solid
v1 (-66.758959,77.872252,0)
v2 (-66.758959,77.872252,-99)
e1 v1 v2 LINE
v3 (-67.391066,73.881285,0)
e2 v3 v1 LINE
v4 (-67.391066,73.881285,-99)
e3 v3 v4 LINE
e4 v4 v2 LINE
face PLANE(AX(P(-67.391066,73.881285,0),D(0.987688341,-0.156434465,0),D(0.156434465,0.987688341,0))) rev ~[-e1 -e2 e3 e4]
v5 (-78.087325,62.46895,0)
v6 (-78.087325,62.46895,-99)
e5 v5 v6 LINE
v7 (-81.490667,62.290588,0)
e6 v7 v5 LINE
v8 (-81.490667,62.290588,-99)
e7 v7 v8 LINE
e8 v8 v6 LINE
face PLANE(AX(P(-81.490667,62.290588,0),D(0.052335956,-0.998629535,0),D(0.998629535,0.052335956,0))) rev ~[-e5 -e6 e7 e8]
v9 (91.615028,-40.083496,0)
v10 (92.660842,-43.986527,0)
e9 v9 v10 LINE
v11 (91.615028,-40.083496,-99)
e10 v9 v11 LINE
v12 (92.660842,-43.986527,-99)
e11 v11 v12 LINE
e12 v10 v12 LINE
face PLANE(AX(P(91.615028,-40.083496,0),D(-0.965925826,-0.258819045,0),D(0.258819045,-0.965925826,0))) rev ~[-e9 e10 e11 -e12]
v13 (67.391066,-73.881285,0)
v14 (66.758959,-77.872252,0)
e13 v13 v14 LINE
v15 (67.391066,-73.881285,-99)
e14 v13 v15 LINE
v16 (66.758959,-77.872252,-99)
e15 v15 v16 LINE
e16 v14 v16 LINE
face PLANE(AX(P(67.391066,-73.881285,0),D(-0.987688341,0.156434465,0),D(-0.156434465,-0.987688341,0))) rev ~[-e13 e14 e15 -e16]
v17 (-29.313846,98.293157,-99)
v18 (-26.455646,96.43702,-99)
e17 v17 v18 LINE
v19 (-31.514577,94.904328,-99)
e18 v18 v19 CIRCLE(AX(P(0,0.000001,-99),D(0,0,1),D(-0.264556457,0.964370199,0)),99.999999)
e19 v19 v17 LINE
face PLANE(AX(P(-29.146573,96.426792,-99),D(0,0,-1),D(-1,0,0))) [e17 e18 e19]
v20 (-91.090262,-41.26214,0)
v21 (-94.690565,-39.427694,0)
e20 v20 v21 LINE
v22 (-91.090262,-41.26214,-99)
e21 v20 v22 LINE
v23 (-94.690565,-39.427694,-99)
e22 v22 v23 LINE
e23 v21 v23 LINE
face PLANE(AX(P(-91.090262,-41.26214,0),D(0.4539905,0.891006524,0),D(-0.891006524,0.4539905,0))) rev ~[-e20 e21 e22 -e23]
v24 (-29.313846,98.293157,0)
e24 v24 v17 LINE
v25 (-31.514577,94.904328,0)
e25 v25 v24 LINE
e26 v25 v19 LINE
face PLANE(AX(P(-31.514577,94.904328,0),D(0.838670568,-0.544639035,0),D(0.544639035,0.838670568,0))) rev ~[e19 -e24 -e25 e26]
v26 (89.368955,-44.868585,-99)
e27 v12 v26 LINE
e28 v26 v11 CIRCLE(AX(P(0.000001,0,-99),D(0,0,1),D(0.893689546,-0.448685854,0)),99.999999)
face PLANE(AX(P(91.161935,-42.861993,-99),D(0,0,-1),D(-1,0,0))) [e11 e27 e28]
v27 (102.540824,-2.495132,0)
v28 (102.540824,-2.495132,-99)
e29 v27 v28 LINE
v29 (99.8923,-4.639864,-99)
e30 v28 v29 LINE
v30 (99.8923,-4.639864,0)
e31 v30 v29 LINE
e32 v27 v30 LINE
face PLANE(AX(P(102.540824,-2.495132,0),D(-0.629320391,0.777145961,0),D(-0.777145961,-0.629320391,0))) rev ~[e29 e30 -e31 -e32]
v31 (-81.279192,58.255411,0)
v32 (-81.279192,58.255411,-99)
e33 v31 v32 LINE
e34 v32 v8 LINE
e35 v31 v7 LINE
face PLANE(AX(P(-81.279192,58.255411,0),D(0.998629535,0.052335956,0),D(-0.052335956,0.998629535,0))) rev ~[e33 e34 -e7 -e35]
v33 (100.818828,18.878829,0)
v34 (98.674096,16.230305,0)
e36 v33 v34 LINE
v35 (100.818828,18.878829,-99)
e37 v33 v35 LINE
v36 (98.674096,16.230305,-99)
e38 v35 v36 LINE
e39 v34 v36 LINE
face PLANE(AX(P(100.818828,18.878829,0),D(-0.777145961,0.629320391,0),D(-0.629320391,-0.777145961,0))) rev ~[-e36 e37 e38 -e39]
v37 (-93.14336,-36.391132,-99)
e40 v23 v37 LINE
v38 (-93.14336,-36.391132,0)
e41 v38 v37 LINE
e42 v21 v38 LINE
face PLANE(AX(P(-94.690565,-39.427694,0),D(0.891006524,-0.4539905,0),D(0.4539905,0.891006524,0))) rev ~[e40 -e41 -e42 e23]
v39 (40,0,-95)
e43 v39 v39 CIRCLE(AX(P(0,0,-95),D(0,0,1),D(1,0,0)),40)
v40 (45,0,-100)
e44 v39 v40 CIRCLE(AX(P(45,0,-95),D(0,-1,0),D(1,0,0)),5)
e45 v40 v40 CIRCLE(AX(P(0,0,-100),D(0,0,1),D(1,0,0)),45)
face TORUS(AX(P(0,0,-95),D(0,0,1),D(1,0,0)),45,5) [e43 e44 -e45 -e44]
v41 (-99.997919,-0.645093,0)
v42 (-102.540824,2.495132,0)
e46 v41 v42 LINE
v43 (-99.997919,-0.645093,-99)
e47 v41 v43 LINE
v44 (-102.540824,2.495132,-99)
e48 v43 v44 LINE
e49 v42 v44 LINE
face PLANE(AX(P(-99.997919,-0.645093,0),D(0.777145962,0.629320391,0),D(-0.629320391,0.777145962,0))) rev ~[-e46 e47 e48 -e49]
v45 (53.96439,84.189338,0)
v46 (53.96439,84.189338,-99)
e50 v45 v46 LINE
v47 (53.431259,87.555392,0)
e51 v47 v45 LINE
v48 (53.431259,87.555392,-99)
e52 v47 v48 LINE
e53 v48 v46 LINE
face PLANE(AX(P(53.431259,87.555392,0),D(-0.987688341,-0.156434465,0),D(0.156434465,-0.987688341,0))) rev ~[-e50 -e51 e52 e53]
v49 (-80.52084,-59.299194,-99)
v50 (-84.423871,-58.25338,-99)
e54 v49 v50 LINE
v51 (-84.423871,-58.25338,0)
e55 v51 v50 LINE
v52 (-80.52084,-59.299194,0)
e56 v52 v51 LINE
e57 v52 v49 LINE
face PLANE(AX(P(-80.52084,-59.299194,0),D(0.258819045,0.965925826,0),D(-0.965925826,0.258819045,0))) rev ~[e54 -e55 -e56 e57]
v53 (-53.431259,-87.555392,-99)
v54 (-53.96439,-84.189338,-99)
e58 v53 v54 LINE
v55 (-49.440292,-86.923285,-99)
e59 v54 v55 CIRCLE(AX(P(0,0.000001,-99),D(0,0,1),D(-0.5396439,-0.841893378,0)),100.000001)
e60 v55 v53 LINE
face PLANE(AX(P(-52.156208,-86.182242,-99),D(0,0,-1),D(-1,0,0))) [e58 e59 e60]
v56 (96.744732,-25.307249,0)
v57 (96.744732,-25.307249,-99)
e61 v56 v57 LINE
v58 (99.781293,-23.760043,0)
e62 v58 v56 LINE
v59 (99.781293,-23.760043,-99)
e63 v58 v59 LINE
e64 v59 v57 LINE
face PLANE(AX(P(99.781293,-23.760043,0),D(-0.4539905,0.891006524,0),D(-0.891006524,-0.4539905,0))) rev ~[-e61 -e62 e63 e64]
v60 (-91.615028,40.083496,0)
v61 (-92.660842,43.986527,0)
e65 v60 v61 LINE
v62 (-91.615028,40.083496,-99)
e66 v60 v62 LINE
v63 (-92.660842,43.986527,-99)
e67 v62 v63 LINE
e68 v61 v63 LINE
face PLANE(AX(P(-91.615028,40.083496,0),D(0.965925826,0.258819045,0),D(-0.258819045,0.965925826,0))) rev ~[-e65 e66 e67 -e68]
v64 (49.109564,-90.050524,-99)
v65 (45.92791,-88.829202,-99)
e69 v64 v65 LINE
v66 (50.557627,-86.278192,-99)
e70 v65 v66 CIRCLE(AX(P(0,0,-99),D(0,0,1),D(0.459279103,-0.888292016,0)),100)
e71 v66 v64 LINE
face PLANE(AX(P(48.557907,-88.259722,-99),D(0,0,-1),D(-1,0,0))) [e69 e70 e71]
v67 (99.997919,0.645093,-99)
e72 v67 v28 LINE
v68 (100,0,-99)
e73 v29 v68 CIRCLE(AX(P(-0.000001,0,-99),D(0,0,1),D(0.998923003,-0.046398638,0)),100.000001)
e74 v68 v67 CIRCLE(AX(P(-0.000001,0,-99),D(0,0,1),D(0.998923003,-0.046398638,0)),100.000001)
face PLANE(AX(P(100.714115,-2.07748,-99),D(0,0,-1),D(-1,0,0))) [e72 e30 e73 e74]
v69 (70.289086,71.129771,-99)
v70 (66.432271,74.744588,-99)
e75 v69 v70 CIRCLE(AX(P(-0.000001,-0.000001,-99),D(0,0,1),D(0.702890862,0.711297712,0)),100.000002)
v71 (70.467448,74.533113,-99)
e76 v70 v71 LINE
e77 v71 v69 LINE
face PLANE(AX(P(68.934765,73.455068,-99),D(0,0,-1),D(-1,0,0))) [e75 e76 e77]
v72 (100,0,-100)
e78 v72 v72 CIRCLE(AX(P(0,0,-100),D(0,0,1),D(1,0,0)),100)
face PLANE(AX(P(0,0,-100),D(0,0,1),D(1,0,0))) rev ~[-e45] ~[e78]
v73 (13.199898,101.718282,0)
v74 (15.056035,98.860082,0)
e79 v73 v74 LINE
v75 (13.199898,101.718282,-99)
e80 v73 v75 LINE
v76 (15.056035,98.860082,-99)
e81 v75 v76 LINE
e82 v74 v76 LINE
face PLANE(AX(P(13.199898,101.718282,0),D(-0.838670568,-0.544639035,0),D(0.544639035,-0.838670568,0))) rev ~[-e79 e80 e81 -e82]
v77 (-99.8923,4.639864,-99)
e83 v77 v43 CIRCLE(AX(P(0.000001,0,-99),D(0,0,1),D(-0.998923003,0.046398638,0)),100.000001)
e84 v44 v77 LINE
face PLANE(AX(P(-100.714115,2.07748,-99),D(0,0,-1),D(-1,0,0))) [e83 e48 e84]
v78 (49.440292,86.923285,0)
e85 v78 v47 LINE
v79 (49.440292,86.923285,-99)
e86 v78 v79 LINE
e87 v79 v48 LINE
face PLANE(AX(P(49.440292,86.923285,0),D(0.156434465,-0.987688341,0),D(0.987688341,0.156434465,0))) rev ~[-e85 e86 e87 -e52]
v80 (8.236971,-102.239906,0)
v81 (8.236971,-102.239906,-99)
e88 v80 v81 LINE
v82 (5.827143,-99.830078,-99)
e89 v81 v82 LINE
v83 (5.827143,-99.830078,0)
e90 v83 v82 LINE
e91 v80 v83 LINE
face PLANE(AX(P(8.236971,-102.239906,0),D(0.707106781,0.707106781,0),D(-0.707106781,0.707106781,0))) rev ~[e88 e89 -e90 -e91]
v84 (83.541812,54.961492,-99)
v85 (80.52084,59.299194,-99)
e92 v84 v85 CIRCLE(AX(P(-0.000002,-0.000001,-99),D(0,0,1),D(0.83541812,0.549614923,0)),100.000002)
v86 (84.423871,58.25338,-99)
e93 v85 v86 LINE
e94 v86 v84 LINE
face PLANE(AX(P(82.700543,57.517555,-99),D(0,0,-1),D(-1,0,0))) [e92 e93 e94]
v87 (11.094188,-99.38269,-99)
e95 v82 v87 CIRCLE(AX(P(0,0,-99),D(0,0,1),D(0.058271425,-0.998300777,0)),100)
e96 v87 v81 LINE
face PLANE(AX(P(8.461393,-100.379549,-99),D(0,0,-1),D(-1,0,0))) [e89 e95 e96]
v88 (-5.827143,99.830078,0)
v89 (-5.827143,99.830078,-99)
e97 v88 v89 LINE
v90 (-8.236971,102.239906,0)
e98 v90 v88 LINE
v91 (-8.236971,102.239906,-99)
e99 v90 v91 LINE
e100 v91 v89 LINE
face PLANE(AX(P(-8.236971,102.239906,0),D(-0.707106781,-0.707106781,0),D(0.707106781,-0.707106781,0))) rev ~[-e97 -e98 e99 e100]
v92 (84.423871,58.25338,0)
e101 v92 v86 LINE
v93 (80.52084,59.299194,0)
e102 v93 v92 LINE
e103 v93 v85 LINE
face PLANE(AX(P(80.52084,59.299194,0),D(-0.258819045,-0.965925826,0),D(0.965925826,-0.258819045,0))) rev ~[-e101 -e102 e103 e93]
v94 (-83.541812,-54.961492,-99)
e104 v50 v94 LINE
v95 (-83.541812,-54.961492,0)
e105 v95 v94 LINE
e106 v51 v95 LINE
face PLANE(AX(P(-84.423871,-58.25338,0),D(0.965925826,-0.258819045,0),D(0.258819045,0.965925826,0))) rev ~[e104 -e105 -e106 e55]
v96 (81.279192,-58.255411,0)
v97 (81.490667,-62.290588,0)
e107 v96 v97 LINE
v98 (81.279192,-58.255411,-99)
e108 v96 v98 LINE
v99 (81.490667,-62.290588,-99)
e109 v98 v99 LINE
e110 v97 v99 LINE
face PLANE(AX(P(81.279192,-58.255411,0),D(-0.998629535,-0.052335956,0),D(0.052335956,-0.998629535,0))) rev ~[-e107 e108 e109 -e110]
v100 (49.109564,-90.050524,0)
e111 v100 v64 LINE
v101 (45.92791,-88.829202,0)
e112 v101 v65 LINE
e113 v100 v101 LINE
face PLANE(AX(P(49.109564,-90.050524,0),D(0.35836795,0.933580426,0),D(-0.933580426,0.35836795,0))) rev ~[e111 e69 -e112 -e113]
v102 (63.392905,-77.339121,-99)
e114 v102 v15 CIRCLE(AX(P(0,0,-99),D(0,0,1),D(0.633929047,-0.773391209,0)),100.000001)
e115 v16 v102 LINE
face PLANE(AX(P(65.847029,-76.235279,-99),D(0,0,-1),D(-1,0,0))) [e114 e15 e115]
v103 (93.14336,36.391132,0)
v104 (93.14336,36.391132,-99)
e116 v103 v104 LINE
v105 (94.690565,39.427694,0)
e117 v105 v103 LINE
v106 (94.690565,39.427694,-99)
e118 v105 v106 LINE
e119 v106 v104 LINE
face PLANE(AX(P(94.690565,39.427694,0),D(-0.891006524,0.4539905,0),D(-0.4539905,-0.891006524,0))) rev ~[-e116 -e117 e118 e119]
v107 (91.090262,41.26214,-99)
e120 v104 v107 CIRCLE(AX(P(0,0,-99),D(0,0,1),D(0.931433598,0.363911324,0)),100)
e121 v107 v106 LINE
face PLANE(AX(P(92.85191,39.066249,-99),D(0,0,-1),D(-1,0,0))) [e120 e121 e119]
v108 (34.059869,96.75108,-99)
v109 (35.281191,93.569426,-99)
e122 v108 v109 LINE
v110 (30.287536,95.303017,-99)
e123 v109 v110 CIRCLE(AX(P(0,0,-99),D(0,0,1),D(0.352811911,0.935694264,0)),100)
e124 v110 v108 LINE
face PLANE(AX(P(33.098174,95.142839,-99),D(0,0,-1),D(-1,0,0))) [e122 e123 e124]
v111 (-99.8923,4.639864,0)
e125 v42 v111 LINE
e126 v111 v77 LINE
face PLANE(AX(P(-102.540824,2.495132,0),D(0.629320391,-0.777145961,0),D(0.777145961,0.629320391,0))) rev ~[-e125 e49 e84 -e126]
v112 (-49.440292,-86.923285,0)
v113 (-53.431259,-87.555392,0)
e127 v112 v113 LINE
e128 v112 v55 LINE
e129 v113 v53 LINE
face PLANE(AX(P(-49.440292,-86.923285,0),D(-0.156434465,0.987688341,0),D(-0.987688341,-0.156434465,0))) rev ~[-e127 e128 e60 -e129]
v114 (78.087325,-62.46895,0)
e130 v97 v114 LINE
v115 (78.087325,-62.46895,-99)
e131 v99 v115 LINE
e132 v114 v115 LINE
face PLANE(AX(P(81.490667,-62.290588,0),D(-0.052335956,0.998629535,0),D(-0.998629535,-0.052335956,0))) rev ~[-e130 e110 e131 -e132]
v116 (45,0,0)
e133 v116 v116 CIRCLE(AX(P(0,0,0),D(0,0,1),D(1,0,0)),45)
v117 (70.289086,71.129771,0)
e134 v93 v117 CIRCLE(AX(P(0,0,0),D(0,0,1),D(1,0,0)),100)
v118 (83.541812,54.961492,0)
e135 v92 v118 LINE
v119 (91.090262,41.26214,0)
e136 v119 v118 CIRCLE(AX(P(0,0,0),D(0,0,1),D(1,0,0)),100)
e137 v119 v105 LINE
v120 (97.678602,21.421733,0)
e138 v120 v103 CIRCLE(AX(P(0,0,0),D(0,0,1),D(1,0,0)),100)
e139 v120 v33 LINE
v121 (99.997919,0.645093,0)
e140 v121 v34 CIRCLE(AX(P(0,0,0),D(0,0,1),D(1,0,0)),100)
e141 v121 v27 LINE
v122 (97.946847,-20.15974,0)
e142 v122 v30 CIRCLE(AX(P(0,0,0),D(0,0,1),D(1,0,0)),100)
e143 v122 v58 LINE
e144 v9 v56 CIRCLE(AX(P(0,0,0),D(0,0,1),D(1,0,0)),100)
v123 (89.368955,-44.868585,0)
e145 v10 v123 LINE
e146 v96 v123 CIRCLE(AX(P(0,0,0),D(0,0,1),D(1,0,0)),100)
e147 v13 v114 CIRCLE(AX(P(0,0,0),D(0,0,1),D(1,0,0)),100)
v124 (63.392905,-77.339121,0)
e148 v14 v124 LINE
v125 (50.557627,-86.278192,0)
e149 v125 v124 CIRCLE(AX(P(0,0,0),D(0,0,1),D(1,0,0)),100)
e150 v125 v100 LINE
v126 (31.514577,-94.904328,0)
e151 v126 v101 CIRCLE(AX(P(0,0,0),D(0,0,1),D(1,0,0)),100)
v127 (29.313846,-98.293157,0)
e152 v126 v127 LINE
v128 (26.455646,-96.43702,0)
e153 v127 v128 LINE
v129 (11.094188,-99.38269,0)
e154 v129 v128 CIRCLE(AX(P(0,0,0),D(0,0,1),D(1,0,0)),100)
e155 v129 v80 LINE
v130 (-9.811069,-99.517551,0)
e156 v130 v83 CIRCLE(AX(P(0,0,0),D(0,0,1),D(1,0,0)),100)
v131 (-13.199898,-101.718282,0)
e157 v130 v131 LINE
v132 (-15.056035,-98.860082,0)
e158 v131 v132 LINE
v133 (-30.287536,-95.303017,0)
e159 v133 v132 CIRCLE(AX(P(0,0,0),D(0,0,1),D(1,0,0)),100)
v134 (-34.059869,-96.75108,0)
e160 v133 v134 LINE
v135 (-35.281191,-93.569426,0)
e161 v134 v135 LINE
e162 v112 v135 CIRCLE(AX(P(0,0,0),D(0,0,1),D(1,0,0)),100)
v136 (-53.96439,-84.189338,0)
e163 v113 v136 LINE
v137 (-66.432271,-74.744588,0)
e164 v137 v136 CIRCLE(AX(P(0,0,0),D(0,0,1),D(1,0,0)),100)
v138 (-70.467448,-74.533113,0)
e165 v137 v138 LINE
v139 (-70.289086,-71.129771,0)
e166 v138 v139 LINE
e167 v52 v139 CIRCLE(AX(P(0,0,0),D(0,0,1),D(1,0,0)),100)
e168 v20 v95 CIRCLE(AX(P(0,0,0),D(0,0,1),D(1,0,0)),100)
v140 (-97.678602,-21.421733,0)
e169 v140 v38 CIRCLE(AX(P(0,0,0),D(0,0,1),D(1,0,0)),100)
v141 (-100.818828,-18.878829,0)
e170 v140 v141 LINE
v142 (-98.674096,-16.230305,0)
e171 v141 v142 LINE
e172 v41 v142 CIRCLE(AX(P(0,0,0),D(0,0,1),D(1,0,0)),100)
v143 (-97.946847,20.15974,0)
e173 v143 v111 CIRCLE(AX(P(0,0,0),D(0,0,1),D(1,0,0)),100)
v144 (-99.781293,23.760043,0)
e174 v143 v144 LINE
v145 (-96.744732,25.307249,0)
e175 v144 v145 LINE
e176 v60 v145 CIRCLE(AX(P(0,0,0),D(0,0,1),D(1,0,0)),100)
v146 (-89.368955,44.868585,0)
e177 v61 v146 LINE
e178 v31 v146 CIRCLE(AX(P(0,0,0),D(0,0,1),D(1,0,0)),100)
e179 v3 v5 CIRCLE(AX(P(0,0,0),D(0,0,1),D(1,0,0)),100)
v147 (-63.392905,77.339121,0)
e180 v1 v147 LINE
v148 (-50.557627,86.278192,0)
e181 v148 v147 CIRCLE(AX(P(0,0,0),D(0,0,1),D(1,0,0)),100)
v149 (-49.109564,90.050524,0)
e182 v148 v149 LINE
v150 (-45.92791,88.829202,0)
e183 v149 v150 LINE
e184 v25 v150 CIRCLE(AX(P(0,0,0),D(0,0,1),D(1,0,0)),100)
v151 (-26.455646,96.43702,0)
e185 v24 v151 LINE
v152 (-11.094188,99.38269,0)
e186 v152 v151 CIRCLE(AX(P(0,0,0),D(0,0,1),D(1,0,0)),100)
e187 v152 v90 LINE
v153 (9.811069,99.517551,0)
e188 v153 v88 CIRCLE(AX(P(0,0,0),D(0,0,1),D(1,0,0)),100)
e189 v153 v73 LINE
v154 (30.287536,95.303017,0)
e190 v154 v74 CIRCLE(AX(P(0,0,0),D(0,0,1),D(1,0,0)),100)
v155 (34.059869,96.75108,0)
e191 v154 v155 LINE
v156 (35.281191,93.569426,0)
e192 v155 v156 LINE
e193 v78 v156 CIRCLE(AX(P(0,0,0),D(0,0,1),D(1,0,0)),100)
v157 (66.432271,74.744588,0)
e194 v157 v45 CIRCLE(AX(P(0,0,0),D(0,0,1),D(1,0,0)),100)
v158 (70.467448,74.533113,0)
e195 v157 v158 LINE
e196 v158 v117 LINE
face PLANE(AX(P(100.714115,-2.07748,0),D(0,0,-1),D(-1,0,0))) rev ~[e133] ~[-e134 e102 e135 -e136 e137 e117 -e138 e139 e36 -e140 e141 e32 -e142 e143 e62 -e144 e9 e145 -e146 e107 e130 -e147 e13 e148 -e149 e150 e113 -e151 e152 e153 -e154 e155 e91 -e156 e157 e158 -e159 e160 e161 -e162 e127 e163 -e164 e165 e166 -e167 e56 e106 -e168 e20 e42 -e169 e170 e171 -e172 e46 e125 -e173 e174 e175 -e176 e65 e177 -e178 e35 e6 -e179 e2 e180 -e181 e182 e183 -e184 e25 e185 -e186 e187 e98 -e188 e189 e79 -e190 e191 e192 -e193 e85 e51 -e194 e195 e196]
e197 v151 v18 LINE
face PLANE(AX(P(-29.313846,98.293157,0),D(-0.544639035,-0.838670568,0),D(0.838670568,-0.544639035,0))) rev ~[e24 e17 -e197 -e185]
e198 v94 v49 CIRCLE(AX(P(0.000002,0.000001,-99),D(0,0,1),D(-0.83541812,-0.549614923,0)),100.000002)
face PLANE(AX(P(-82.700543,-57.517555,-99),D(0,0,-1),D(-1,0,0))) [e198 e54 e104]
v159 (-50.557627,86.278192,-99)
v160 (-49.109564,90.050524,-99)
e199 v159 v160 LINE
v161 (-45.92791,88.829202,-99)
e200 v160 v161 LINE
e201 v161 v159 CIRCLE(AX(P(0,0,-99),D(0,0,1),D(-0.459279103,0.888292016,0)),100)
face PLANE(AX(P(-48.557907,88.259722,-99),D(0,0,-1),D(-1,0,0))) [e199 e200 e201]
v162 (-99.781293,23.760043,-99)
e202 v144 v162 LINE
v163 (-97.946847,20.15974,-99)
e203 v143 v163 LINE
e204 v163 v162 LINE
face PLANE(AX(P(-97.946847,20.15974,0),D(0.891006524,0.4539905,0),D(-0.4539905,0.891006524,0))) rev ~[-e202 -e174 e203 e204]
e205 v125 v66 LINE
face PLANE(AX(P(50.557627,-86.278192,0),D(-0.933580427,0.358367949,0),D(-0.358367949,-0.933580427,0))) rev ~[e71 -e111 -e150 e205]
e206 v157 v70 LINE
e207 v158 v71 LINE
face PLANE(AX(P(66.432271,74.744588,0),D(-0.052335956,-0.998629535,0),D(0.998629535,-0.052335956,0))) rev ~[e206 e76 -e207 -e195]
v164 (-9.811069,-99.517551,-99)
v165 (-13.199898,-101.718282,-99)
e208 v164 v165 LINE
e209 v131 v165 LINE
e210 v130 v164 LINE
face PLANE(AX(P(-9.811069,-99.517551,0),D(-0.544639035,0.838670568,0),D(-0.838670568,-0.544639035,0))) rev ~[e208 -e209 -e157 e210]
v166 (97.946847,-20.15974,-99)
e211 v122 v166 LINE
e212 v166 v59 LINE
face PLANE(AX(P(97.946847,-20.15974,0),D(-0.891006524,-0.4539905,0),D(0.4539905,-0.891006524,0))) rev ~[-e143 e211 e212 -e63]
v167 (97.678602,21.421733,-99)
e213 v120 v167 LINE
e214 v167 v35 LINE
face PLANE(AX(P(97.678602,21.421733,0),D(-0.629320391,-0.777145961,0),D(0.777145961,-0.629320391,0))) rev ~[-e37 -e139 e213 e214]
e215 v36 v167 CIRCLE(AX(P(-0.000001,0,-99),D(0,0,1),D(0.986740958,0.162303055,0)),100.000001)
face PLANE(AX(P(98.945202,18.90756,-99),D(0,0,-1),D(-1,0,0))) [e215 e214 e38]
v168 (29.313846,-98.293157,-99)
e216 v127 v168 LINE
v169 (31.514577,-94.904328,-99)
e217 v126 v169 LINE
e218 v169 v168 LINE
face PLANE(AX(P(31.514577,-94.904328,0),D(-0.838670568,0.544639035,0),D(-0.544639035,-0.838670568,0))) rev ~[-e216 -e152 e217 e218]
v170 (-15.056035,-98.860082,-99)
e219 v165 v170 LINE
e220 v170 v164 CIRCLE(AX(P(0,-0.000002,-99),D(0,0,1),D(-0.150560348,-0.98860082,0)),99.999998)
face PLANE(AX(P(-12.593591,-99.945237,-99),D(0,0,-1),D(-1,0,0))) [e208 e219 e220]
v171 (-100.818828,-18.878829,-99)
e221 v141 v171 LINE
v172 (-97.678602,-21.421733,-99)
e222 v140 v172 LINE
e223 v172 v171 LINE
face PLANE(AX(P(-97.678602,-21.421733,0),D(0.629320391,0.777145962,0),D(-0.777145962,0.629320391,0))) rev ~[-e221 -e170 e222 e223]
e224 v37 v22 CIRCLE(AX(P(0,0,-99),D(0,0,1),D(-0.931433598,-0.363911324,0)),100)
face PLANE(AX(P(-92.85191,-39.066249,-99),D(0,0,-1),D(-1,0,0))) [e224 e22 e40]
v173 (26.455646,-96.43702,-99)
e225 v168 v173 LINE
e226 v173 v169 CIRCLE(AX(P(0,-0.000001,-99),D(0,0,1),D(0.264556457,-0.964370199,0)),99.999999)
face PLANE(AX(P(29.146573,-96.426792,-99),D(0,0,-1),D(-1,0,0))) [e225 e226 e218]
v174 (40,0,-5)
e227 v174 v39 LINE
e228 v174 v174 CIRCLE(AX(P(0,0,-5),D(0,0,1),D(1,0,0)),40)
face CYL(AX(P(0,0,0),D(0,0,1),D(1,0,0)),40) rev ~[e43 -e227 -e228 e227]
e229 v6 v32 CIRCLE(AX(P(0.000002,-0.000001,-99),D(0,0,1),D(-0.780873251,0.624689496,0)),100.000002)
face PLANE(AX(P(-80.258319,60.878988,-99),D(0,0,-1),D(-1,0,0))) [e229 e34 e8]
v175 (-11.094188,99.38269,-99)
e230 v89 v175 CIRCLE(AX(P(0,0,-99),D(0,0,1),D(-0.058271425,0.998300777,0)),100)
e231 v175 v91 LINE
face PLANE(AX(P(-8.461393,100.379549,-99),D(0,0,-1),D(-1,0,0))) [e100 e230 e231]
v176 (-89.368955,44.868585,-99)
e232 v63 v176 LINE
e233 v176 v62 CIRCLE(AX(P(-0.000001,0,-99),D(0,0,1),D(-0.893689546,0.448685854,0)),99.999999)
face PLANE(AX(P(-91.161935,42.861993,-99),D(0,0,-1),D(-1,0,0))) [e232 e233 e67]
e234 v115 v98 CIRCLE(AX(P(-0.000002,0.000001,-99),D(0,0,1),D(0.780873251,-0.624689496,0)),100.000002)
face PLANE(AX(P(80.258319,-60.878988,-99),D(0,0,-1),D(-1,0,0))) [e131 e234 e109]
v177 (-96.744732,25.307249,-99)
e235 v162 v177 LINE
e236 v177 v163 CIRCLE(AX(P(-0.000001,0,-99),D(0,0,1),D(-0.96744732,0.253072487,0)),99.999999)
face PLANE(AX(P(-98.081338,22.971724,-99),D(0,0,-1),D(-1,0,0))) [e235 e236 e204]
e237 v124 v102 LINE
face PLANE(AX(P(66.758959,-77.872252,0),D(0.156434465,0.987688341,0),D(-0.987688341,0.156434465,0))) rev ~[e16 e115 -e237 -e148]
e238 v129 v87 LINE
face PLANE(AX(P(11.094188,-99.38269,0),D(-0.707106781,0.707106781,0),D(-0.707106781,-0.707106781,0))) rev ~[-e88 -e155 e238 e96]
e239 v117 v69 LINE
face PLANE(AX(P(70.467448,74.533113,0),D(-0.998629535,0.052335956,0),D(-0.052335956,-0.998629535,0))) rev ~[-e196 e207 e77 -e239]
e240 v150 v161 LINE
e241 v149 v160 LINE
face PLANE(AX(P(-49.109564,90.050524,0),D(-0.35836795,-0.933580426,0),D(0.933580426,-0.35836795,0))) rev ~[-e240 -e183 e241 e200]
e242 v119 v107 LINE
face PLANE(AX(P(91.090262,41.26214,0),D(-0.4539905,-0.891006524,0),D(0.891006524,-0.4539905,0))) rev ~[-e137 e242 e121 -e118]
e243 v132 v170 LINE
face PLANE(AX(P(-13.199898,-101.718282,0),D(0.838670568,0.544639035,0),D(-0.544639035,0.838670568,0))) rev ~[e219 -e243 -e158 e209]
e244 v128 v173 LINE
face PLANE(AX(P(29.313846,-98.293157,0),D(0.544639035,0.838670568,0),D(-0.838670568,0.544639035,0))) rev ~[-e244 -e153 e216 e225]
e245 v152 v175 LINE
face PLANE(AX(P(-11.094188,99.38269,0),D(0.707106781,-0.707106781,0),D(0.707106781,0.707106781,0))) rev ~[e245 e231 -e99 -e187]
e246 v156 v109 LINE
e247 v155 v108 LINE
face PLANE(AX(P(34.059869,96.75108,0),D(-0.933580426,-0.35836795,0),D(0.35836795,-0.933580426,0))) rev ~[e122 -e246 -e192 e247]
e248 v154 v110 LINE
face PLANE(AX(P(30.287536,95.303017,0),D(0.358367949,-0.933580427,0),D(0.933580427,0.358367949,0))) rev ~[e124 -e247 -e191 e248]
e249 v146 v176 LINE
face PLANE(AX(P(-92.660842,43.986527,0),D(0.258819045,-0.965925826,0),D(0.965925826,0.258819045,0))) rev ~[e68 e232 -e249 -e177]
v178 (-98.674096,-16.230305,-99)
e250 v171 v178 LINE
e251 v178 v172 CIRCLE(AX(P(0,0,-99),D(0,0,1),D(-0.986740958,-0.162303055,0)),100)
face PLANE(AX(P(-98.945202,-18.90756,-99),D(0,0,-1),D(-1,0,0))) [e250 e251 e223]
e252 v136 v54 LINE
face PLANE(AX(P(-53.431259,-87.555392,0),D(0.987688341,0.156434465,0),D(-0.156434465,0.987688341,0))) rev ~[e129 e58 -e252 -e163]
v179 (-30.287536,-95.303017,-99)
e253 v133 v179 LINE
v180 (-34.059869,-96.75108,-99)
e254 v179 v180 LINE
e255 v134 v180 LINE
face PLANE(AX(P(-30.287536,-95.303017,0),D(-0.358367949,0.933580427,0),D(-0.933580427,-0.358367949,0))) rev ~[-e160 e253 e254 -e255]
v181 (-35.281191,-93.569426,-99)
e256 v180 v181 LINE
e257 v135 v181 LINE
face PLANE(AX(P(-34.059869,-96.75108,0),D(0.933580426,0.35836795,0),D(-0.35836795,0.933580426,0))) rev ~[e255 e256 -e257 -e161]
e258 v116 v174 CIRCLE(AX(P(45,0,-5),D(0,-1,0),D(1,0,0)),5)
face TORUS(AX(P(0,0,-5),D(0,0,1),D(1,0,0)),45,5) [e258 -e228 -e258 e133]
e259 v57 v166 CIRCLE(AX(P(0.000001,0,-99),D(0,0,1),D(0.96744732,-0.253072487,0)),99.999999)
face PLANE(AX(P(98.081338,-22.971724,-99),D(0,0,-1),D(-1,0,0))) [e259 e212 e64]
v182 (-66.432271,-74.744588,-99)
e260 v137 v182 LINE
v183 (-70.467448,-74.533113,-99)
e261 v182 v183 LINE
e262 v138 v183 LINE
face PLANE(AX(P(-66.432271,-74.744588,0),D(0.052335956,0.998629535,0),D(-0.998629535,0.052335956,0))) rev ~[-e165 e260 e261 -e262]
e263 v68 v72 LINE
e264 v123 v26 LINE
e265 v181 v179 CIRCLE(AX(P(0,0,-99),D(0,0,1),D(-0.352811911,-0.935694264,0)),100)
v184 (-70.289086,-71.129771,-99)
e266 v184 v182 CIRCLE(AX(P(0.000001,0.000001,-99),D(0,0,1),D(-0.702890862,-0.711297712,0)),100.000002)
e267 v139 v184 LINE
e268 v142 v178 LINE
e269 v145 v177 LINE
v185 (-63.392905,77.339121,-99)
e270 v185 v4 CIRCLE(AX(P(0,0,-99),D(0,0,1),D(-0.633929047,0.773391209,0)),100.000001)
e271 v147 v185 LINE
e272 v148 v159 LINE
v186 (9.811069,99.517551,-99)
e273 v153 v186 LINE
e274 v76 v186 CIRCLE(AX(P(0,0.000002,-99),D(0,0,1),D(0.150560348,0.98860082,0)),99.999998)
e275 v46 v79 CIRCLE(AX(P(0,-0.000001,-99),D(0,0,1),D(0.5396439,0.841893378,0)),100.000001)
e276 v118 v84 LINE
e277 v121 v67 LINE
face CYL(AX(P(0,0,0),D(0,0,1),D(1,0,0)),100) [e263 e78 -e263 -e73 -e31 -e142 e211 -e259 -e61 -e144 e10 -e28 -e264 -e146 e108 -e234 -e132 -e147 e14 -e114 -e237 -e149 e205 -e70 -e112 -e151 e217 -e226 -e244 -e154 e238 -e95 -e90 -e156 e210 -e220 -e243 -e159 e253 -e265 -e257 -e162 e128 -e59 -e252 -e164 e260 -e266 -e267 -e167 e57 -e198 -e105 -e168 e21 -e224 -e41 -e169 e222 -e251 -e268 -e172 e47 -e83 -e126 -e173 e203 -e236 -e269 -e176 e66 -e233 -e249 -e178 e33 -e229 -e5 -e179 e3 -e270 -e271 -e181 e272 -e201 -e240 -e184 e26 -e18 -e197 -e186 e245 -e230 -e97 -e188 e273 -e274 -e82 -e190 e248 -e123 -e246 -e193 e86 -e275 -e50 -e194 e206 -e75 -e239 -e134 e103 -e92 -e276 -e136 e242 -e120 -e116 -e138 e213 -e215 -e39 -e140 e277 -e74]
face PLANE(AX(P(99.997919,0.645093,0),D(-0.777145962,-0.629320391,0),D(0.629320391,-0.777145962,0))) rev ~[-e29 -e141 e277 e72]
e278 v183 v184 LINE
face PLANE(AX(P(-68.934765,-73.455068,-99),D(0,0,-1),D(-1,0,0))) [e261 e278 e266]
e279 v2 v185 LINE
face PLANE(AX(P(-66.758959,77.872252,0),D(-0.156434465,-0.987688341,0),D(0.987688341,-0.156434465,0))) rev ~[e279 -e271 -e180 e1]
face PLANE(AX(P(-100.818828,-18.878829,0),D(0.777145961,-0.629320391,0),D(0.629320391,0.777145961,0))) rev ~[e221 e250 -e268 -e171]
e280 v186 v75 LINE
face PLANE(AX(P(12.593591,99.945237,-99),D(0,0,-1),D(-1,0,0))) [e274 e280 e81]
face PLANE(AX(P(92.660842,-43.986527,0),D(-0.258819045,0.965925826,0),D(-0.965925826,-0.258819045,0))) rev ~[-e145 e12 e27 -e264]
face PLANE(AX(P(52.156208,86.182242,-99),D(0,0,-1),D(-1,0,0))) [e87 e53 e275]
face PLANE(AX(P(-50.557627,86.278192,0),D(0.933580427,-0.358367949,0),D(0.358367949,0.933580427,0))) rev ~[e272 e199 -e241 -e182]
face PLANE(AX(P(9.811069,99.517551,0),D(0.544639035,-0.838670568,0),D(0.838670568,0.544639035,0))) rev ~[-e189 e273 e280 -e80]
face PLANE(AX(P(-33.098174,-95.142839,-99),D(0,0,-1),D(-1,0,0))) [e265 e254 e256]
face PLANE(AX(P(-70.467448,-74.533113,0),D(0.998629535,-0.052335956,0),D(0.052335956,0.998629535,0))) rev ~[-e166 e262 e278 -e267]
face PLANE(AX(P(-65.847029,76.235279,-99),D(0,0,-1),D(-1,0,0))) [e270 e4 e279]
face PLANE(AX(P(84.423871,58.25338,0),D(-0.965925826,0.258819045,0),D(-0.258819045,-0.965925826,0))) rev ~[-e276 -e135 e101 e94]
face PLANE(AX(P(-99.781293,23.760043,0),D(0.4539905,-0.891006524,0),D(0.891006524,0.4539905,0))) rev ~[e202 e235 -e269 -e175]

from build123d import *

# Parameters (mm, degrees)
SKETCH2_R           = 100
SKETCH2_R_2         = 50
BOSS_EXTRUDE2_DEPTH = 100
SKETCH3_R           = 50
BOSS_EXTRUDE3_DEPTH = 100
SKETCH4_R           = 40
CUT_EXTRUDE1_DEPTH  = 100
FILLET1_R           = 5
FILLET2_R           = 5
BOSS_EXTRUDE4_DEPTH = 99


with BuildPart() as part:
    # Sketch2 → Boss-Extrude2 (new body)
    with BuildSketch(Plane.XY):
        Circle(SKETCH2_R)
        Circle(SKETCH2_R_2, mode=Mode.SUBTRACT)
    extrude(amount=-BOSS_EXTRUDE2_DEPTH)

    # Sketch3 → Boss-Extrude3 (add)
    with BuildSketch(Plane.XY):
        Circle(SKETCH3_R)
    extrude(amount=-BOSS_EXTRUDE3_DEPTH)

    # Sketch4 → Cut-Extrude1 (cut)
    with BuildSketch(Plane.XY):
        Circle(SKETCH4_R)
    extrude(amount=-CUT_EXTRUDE1_DEPTH, mode=Mode.SUBTRACT)

    # Fillet1
    fillet1_edges = [part.edges().sort_by_distance(p)[0] for p in [
        (-40, 0, 0),
    ]]
    fillet(fillet1_edges, radius=FILLET1_R)

    # Fillet2
    fillet2_edges = [part.edges().sort_by_distance(p)[0] for p in [
        (-40, 0, -100),
    ]]
    fillet(fillet2_edges, radius=FILLET2_R)

    # Sketch9 → Boss-Extrude4 (add)
    with BuildSketch(Plane.XY):
        with BuildLine():
            Line((-11.094188182, 99.382689582), (-8.236971303, 102.239906461))
            Line((-8.236971303, 102.239906461), (-5.827142523, 99.830077682))
            ThreePointArc((-5.827142523, 99.830077682), (-8.463621993, 99.641191797), (-11.094188182, 99.382689582))
        make_face()
        with BuildLine():
            Line((13.199898104, 101.718281835), (15.056034767, 98.86008202))
            ThreePointArc((15.056034767, 98.86008202), (12.437897116, 99.22347865), (9.811069477, 99.517550792))
            Line((9.811069477, 99.517550792), (13.199898104, 101.718281835))
        make_face()
        with BuildLine():
            Line((34.059868624, 96.751080194), (35.281191091, 93.569426391))
            ThreePointArc((35.281191091, 93.569426391), (32.795820437, 94.469223358), (30.287536321, 95.303017495))
            Line((30.287536321, 95.303017495), (34.059868624, 96.751080194))
        make_face()
        with BuildLine():
            Line((53.431259448, 87.555392086), (53.964390067, 84.189337833))
            ThreePointArc((53.964390067, 84.189337833), (51.720409033, 85.586209692), (49.440292492, 86.923285018))
            Line((49.440292492, 86.923285018), (53.431259448, 87.555392086))
        make_face()
        with BuildLine():
            Line((70.467447842, 74.533113206), (70.289086246, 71.129771226))
            ThreePointArc((70.289086246, 71.129771226), (68.384567572, 72.962667974), (66.43227064, 74.744587882))
            Line((66.43227064, 74.744587882), (70.467447842, 74.533113206))
        make_face()
        with BuildLine():
            Line((84.423870625, 58.253379629), (83.541812073, 54.961492298))
            ThreePointArc((83.541812073, 54.961492298), (82.059992363, 57.150307552), (80.520839784, 59.299193591))
            Line((80.520839784, 59.299193591), (84.423870625, 58.253379629))
        make_face()
        with BuildLine():
            Line((94.690565151, 39.427693832), (93.143359833, 36.391132422))
            ThreePointArc((93.143359833, 36.391132422), (92.14900172, 38.840204453), (91.090261847, 41.262139991))
            Line((91.090261847, 41.262139991), (94.690565151, 39.427693832))
        make_face()
        with BuildLine():
            Line((100.818827604, 18.878828619), (98.674095818, 16.230305435))
            ThreePointArc((98.674095818, 16.230305435), (98.210657522, 18.832598043), (97.678602368, 21.421732876))
            Line((97.678602368, 21.421732876), (100.818827604, 18.878828619))
        make_face()
        with BuildLine():
            Line((102.540823508, -2.495131995), (99.892300324, -4.639863781))
            ThreePointArc((99.892300324, -4.639863781), (99.980036323, -1.998083271), (99.997919252, 0.645093241))
            Line((99.997919252, 0.645093241), (102.540823508, -2.495131995))
        make_face()
        with BuildLine():
            Line((99.78129338, -23.760043368), (96.74473197, -25.307248685))
            ThreePointArc((96.74473197, -25.307248685), (97.37980778, -22.741438757), (97.946847221, -20.159740064))
            Line((97.946847221, -20.159740064), (99.78129338, -23.760043368))
        make_face()
        with BuildLine():
            Line((92.660841927, -43.986526832), (89.368954596, -44.868585384))
            ThreePointArc((89.368954596, -44.868585384), (90.523614356, -42.490884245), (91.615027965, -40.083495991))
            Line((91.615027965, -40.083495991), (92.660841927, -43.986526832))
        make_face()
        with BuildLine():
            Line((81.490667046, -62.290588003), (78.087325067, -62.468949599))
            ThreePointArc((78.087325067, -62.468949599), (79.711104604, -60.383274197), (81.27919237, -58.255410802))
            Line((81.27919237, -58.255410802), (81.490667046, -62.290588003))
        make_face()
        with BuildLine():
            Line((66.75895898, -77.872251575), (63.392904727, -77.339120956))
            ThreePointArc((63.392904727, -77.339120956), (65.414837085, -75.636625315), (67.391066047, -73.881284619))
            Line((67.391066047, -73.881284619), (66.75895898, -77.872251575))
        make_face()
        with BuildLine():
            Line((49.109564061, -90.050524081), (45.927910258, -88.829201614))
            ThreePointArc((45.927910258, -88.829201614), (48.25962729, -87.584292963), (50.55762676, -86.278191777))
            Line((50.55762676, -86.278191777), (49.109564061, -90.050524081))
        make_face()
        with BuildLine():
            Line((29.313845538, -98.293156574), (26.455645724, -96.437019911))
            ThreePointArc((26.455645724, -96.437019911), (28.995240207, -95.704106732), (31.514576581, -94.904327946))
            Line((31.514576581, -94.904327946), (29.313845538, -98.293156574))
        make_face()
        with BuildLine():
            Line((8.236971303, -102.239906461), (5.827142523, -99.830077682))
            ThreePointArc((5.827142523, -99.830077682), (8.463621993, -99.641191797), (11.094188182, -99.382689582))
            Line((11.094188182, -99.382689582), (8.236971303, -102.239906461))
        make_face()
        with BuildLine():
            Line((-13.199898104, -101.718281835), (-15.056034767, -98.86008202))
            ThreePointArc((-15.056034767, -98.86008202), (-12.437897116, -99.22347865), (-9.811069477, -99.517550792))
            Line((-9.811069477, -99.517550792), (-13.199898104, -101.718281835))
        make_face()
        with BuildLine():
            Line((-34.059868624, -96.751080194), (-35.281191091, -93.569426391))
            ThreePointArc((-35.281191091, -93.569426391), (-32.795820437, -94.469223358), (-30.287536321, -95.303017495))
            Line((-30.287536321, -95.303017495), (-34.059868624, -96.751080194))
        make_face()
        with BuildLine():
            Line((-53.431259448, -87.555392086), (-53.964390067, -84.189337833))
            ThreePointArc((-53.964390067, -84.189337833), (-51.720409033, -85.586209692), (-49.440292492, -86.923285018))
            Line((-49.440292492, -86.923285018), (-53.431259448, -87.555392086))
        make_face()
        with BuildLine():
            Line((-70.467447842, -74.533113206), (-70.289086246, -71.129771226))
            ThreePointArc((-70.289086246, -71.129771226), (-68.384567572, -72.962667974), (-66.43227064, -74.744587882))
            Line((-66.43227064, -74.744587882), (-70.467447842, -74.533113206))
        make_face()
        with BuildLine():
            Line((-84.423870625, -58.253379629), (-83.541812073, -54.961492298))
            ThreePointArc((-83.541812073, -54.961492298), (-82.059992363, -57.150307552), (-80.520839784, -59.299193591))
            Line((-80.520839784, -59.299193591), (-84.423870625, -58.253379629))
        make_face()
        with BuildLine():
            Line((-94.690565151, -39.427693832), (-93.143359833, -36.391132422))
            ThreePointArc((-93.143359833, -36.391132422), (-92.14900172, -38.840204453), (-91.090261847, -41.262139991))
            Line((-91.090261847, -41.262139991), (-94.690565151, -39.427693832))
        make_face()
        with BuildLine():
            Line((-100.818827604, -18.878828619), (-98.674095818, -16.230305435))
            ThreePointArc((-98.674095818, -16.230305435), (-98.210657522, -18.832598043), (-97.678602368, -21.421732875))
            Line((-97.678602368, -21.421732875), (-100.818827604, -18.878828619))
        make_face()
        with BuildLine():
            Line((-102.540823508, 2.495131995), (-99.892300324, 4.639863781))
            ThreePointArc((-99.892300324, 4.639863781), (-99.980036323, 1.998083271), (-99.997919252, -0.645093241))
            Line((-99.997919252, -0.645093241), (-102.540823508, 2.495131995))
        make_face()
        with BuildLine():
            Line((-99.78129338, 23.760043368), (-96.74473197, 25.307248685))
            ThreePointArc((-96.74473197, 25.307248685), (-97.37980778, 22.741438757), (-97.946847221, 20.159740064))
            Line((-97.946847221, 20.159740064), (-99.78129338, 23.760043368))
        make_face()
        with BuildLine():
            Line((-92.660841927, 43.986526832), (-89.368954596, 44.868585384))
            ThreePointArc((-89.368954596, 44.868585384), (-90.523614356, 42.490884245), (-91.615027965, 40.083495991))
            Line((-91.615027965, 40.083495991), (-92.660841927, 43.986526832))
        make_face()
        with BuildLine():
            Line((-81.490667046, 62.290588003), (-78.087325067, 62.468949599))
            ThreePointArc((-78.087325067, 62.468949599), (-79.711104604, 60.383274197), (-81.27919237, 58.255410802))
            Line((-81.27919237, 58.255410802), (-81.490667046, 62.290588003))
        make_face()
        with BuildLine():
            Line((-66.75895898, 77.872251575), (-63.392904727, 77.339120956))
            ThreePointArc((-63.392904727, 77.339120956), (-65.414837085, 75.636625315), (-67.391066047, 73.881284619))
            Line((-67.391066047, 73.881284619), (-66.75895898, 77.872251575))
        make_face()
        with BuildLine():
            Line((-49.109564061, 90.050524081), (-45.927910258, 88.829201614))
            ThreePointArc((-45.927910258, 88.829201614), (-48.25962729, 87.584292963), (-50.55762676, 86.278191777))
            Line((-50.55762676, 86.278191777), (-49.109564061, 90.050524081))
        make_face()
        with BuildLine():
            Line((-29.313845538, 98.293156574), (-26.455645724, 96.437019911))
            ThreePointArc((-26.455645724, 96.437019911), (-28.995240207, 95.704106732), (-31.514576581, 94.904327946))
            Line((-31.514576581, 94.904327946), (-29.313845538, 98.293156574))
        make_face()
    extrude(amount=-BOSS_EXTRUDE4_DEPTH)


solid = part.part
